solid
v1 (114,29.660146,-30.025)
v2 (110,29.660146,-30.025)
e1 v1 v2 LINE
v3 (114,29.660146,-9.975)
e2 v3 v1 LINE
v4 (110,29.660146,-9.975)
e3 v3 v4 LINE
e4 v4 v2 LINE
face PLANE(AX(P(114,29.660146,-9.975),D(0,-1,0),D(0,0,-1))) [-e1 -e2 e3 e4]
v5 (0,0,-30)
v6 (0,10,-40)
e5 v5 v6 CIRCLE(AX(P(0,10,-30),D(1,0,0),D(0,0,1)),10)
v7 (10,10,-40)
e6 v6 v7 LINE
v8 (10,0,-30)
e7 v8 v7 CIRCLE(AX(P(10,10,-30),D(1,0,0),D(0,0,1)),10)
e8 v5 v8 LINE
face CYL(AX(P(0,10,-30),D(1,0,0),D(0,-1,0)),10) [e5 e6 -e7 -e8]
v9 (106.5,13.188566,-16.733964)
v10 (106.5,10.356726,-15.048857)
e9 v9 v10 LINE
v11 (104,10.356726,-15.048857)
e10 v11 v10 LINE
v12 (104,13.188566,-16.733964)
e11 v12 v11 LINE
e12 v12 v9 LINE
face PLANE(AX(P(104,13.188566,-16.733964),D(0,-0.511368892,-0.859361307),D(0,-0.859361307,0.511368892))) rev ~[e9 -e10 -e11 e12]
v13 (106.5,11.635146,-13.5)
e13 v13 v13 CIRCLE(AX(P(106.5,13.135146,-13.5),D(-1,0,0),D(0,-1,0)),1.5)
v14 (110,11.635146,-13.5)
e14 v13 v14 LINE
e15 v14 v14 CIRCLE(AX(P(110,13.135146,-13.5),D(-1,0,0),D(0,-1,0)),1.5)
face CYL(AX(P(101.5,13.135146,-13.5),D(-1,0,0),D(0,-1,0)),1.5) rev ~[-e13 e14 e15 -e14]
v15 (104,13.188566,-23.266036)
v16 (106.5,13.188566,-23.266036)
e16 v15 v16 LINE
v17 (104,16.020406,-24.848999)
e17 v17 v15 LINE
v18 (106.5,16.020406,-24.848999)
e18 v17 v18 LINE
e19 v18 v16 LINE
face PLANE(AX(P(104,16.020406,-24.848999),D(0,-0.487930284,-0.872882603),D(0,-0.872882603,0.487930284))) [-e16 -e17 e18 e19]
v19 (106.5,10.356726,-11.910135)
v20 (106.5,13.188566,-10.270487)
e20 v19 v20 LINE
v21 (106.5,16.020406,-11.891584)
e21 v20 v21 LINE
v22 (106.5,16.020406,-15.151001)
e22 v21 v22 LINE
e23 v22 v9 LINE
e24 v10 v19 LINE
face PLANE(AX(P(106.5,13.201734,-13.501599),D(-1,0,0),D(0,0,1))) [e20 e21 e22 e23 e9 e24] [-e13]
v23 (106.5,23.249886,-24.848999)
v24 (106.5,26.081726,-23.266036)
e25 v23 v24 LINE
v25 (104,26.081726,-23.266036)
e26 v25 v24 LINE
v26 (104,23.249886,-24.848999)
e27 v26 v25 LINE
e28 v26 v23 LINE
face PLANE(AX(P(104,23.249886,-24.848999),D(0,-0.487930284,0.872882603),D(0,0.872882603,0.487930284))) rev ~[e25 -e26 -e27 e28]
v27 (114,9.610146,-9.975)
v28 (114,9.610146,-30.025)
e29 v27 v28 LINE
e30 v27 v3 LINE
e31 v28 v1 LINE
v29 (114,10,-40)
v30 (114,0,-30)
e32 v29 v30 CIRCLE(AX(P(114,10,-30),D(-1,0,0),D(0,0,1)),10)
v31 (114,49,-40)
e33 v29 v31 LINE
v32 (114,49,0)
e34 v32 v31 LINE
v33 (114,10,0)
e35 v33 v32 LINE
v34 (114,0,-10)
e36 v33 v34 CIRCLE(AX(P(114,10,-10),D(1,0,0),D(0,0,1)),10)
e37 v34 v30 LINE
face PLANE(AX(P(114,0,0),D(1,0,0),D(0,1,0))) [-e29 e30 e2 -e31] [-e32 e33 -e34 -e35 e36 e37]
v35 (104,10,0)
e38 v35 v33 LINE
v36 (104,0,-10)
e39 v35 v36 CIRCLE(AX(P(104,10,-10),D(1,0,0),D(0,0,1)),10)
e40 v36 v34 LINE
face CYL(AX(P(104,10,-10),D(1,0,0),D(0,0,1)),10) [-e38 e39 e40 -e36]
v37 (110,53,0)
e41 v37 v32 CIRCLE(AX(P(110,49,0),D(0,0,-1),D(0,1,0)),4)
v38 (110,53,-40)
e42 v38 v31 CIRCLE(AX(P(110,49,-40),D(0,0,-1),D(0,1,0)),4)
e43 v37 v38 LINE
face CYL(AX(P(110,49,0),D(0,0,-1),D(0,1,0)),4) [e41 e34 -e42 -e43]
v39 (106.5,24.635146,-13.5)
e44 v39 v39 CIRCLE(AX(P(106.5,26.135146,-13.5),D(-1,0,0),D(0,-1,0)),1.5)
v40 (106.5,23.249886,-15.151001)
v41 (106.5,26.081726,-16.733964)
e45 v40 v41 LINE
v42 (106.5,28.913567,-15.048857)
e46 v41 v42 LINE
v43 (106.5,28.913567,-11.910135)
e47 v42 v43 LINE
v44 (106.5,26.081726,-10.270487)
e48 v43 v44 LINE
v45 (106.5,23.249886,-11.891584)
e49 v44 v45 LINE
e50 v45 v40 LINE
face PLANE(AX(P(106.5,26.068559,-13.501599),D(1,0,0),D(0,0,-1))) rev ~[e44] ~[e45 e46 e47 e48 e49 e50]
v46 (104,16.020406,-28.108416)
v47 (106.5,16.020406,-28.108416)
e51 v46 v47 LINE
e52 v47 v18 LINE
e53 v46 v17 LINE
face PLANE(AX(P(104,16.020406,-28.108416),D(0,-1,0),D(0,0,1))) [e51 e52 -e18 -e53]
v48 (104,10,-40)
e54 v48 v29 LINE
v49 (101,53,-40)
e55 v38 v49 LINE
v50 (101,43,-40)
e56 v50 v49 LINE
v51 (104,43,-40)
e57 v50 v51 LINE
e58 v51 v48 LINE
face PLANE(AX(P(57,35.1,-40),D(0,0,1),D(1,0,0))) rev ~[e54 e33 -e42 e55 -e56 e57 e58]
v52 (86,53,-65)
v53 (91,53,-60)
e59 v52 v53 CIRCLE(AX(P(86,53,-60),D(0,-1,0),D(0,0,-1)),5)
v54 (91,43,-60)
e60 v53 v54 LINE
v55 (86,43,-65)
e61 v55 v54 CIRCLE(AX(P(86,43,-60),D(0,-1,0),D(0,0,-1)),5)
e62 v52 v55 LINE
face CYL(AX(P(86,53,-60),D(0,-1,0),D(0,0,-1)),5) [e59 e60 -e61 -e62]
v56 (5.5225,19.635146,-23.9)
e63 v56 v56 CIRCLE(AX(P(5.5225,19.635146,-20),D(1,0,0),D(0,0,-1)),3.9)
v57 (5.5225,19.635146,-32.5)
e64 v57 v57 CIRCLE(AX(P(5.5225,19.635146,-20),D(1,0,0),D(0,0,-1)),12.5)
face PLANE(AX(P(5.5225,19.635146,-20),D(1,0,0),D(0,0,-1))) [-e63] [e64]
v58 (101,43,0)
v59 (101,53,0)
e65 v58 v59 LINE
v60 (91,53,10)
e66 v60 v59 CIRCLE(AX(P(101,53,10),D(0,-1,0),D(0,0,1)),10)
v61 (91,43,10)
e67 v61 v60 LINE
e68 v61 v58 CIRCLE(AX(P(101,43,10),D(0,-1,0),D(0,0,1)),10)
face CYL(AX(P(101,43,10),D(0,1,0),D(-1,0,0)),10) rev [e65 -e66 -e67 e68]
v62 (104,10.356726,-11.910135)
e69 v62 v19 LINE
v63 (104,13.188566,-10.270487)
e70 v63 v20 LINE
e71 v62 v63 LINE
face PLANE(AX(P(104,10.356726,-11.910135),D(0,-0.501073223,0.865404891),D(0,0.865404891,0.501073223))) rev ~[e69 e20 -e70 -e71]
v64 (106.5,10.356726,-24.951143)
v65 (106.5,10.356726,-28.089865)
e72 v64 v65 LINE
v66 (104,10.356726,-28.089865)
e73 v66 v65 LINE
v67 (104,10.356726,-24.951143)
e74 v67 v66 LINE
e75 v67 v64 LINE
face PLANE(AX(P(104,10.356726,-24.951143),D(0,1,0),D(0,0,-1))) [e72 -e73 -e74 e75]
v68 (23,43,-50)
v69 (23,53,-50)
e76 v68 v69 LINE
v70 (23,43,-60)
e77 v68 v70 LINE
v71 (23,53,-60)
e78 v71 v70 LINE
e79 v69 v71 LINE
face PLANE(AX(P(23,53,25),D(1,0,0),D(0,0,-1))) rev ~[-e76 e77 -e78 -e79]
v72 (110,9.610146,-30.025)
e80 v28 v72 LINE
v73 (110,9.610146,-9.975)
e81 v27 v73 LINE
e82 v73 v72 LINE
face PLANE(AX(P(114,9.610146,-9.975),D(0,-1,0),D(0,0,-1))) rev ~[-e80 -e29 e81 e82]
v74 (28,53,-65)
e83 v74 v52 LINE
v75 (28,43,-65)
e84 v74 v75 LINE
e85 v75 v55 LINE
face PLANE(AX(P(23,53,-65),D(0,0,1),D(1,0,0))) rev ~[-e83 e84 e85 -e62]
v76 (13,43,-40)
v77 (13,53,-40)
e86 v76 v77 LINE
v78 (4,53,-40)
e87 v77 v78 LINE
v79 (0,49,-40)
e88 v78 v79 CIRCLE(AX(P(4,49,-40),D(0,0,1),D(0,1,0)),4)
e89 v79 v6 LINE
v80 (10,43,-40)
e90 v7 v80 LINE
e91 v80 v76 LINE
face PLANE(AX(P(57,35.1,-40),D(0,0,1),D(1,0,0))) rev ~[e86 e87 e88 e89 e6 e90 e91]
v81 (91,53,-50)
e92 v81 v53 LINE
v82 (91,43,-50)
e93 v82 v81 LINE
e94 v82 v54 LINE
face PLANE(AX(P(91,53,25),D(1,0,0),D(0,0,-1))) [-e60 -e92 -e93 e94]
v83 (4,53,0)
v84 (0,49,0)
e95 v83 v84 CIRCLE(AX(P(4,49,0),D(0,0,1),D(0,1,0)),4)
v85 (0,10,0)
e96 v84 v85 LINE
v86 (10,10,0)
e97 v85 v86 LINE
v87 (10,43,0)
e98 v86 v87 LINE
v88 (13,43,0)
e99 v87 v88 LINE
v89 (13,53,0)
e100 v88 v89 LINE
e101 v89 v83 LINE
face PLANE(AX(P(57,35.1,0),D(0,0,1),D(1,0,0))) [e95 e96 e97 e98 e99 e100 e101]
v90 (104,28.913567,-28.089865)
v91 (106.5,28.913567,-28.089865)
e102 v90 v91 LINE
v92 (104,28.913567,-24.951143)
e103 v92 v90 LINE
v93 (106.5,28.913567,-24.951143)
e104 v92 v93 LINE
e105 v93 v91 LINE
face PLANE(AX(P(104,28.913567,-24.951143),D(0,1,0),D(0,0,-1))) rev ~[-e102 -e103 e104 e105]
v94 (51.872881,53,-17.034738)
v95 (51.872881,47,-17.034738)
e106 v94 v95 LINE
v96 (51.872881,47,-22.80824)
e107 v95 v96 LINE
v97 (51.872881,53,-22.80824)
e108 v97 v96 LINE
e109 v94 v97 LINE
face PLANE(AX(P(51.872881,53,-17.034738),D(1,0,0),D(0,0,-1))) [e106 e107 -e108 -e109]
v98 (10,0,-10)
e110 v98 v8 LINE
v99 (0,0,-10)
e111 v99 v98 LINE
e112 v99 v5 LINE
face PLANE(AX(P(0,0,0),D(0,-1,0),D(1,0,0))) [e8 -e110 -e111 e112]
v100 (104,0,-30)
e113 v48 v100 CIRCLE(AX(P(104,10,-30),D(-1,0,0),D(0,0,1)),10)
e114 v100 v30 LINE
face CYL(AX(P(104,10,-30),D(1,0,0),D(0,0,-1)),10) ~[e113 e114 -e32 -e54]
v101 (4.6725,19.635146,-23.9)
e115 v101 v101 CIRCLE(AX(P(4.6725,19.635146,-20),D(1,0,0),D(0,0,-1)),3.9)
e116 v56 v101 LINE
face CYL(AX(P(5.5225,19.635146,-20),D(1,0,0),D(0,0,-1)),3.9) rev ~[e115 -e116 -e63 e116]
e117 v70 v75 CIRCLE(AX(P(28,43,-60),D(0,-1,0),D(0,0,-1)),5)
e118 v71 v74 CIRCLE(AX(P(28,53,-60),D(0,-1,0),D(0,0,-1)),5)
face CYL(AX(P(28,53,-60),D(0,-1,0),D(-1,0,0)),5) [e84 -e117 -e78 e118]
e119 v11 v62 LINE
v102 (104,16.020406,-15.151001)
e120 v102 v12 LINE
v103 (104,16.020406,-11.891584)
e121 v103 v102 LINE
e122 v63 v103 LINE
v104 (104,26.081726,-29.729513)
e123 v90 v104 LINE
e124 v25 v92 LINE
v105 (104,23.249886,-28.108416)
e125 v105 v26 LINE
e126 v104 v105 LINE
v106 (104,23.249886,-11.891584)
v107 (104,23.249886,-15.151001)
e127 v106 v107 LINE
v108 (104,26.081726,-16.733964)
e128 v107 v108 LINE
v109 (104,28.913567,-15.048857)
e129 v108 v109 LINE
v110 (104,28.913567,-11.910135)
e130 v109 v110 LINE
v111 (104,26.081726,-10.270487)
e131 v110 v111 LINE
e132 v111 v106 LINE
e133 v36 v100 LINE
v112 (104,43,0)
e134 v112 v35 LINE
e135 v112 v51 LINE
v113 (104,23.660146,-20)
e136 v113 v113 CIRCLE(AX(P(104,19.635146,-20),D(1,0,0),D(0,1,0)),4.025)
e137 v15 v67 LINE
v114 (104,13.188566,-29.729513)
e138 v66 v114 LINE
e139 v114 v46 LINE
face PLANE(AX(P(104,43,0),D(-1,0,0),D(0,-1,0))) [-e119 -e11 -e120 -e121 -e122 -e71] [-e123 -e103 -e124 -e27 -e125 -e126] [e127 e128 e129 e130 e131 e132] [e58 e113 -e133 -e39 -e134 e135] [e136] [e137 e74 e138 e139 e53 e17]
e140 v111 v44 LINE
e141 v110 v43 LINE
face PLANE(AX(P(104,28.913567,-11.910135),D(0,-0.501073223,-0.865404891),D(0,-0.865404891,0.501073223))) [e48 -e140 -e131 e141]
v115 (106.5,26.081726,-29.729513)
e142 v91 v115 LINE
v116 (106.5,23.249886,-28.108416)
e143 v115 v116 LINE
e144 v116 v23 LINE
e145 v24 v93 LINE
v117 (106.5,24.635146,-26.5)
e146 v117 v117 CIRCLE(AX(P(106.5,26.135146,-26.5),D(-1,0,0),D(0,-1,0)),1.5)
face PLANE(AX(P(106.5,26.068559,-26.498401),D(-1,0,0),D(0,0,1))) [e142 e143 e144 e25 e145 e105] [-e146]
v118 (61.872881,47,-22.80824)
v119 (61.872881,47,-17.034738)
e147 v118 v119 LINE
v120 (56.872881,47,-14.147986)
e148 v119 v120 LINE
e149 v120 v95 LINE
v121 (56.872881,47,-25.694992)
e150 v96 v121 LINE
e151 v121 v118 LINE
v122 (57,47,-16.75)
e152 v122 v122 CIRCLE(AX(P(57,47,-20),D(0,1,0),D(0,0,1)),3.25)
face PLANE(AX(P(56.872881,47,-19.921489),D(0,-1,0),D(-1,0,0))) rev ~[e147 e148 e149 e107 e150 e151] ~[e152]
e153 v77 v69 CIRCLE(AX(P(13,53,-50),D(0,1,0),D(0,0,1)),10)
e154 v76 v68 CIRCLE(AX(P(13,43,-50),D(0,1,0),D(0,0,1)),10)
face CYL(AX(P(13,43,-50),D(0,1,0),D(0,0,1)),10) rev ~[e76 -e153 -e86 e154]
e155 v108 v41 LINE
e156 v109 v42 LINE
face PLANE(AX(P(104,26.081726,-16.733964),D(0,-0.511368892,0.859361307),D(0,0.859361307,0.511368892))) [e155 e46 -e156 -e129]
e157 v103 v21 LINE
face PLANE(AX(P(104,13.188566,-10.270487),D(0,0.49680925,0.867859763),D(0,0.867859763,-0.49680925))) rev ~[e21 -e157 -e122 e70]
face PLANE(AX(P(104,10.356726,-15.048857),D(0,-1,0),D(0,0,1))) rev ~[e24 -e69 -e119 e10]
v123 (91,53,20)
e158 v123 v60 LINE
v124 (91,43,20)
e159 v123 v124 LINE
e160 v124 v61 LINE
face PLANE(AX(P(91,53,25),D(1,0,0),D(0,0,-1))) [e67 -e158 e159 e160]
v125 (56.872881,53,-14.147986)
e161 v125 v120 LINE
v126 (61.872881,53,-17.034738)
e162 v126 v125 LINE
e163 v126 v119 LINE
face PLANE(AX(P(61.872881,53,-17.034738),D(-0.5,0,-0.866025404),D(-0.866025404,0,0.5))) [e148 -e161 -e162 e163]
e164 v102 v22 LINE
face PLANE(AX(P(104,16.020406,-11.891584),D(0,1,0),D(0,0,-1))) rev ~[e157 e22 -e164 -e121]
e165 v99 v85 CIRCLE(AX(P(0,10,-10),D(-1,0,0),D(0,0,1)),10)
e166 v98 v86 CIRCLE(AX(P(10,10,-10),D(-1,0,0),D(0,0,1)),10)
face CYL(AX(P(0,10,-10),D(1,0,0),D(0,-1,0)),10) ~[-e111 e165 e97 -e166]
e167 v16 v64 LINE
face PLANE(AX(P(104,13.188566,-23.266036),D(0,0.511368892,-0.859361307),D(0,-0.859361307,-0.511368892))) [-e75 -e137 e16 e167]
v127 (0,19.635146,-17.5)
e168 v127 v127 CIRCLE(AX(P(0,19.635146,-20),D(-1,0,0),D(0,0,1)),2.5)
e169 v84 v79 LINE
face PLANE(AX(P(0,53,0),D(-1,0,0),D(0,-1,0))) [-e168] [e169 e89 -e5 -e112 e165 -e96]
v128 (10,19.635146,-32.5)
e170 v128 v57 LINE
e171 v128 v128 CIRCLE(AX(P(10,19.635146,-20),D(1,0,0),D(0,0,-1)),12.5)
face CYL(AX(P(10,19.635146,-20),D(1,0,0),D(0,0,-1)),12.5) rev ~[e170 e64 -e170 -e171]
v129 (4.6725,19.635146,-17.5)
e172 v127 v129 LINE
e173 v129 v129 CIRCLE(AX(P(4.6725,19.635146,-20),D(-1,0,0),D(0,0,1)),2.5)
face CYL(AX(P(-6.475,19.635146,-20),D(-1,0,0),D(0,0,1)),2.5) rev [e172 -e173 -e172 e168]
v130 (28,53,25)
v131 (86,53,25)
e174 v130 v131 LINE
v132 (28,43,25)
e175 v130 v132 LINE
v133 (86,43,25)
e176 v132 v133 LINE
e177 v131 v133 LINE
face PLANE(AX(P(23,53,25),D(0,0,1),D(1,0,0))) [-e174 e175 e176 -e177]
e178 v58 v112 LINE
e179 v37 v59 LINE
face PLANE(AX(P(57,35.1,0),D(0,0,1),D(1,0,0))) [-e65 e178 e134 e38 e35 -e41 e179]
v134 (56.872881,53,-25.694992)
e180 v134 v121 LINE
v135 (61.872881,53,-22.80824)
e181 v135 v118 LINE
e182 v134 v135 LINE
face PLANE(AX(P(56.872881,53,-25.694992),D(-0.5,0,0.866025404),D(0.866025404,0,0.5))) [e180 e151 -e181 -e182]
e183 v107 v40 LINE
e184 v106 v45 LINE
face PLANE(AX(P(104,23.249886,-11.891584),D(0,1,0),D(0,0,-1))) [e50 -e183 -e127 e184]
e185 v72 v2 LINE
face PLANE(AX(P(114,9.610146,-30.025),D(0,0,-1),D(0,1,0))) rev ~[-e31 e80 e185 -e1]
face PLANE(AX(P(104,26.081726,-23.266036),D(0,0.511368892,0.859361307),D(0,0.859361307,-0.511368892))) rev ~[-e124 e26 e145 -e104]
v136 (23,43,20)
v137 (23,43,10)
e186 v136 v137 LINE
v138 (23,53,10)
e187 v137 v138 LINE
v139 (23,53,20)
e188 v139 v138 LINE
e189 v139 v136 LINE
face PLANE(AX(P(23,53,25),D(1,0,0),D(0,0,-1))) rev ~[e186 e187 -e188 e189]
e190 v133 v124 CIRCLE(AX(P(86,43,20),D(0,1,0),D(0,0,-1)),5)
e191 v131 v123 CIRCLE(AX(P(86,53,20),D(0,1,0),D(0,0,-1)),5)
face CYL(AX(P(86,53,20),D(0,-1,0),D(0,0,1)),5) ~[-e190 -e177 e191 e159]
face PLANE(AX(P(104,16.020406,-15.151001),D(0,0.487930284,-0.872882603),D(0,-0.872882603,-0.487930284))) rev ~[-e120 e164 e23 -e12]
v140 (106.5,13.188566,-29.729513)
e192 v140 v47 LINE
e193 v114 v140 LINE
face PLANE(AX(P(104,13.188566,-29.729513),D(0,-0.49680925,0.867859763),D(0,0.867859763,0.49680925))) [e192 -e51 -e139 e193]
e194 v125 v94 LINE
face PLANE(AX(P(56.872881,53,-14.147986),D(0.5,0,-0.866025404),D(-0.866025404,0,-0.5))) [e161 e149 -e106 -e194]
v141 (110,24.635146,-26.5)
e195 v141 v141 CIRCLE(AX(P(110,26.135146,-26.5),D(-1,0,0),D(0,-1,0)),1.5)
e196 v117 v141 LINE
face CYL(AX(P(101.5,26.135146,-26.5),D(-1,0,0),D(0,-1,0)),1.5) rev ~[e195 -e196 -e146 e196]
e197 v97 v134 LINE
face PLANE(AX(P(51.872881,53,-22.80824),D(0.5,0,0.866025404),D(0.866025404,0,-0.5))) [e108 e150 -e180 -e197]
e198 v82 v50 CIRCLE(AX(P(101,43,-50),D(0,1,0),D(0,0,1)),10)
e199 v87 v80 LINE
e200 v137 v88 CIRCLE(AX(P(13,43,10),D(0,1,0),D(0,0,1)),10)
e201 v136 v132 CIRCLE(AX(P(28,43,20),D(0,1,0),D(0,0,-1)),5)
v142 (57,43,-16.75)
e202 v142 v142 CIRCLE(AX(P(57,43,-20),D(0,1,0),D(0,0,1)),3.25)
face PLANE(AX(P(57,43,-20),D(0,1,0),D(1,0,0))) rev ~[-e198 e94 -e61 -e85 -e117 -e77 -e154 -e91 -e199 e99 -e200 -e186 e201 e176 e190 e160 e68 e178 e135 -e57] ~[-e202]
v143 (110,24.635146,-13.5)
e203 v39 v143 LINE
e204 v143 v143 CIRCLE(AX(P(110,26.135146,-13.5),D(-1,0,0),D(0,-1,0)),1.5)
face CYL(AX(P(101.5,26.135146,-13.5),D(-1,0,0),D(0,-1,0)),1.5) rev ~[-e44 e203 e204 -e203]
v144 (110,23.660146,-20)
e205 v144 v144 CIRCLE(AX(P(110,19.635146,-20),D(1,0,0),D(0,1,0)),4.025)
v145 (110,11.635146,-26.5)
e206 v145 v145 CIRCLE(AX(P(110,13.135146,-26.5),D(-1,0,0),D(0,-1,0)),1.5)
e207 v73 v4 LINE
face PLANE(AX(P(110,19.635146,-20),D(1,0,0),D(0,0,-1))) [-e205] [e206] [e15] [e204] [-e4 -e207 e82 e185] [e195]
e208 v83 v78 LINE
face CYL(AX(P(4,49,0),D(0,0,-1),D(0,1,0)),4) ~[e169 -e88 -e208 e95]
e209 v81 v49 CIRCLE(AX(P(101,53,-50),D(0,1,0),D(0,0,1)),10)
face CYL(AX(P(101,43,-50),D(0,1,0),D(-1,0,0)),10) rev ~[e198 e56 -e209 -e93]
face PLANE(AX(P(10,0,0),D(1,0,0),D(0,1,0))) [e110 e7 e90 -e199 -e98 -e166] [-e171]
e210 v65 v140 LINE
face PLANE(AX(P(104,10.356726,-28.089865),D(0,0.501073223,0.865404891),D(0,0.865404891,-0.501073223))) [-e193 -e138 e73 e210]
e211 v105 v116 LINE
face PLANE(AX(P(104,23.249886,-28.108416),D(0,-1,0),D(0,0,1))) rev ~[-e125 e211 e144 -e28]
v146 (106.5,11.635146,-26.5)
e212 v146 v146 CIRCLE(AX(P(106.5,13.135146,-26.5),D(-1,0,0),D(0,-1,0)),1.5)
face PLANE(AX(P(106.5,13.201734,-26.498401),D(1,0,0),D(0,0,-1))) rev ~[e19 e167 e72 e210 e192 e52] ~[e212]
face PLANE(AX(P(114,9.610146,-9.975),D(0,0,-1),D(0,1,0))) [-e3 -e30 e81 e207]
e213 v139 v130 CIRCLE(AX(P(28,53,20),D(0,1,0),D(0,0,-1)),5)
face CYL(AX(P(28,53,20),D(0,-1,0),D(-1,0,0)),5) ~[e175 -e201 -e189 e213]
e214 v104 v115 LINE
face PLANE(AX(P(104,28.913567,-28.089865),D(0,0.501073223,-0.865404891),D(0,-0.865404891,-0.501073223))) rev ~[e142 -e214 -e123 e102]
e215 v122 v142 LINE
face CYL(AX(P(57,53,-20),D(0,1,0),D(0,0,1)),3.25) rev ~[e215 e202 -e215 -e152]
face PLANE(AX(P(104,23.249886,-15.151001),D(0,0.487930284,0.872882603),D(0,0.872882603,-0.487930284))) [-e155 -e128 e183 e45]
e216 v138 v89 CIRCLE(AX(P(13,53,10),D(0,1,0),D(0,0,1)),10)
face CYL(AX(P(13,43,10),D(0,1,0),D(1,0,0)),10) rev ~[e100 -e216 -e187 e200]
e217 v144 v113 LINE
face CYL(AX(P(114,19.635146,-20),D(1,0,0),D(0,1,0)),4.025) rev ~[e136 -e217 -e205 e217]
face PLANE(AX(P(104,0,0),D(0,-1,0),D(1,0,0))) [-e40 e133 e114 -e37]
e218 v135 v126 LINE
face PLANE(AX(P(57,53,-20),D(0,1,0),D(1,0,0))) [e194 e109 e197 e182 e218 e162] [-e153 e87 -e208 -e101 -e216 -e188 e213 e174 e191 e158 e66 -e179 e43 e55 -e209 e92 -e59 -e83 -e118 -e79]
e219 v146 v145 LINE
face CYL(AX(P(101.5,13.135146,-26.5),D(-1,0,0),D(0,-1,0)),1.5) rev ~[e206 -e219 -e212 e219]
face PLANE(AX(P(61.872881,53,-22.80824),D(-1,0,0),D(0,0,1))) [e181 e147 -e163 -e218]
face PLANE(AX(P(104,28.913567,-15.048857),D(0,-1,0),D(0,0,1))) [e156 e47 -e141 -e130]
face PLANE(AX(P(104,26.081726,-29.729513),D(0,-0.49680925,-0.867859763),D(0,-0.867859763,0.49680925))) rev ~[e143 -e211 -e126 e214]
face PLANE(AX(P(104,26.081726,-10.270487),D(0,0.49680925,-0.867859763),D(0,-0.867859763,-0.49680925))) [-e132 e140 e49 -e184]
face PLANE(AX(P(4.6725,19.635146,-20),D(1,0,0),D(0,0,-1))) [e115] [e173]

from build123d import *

# Parameters (mm, degrees)
BOSS_EXTRUDE1_DEPTH     = 40
SKETCH2_R               = 12.5
CUT_EXTRUDE1_DEPTH      = 4.4775
FILLET1_R               = 10
CUT_EXTRUDE2_DEPTH      = 131.2
CUT_EXTRUDE2_DEPTH_BACK = 14.2
SKETCH4_R               = 2.5
SKETCH6_W               = 68
SKETCH6_H               = 90
BOSS_EXTRUDE4_DEPTH     = 10
FILLET2_R               = 10
FILLET3_R               = 5
FILLET4_R               = 4
CUT_EXTRUDE3_START      = -2.2025
SKETCH7_R               = 3.9
CUT_EXTRUDE3_DEPTH      = 0.85
SKETCH8_R               = 3.25
CUT_EXTRUDE4_DEPTH      = 10
SKETCH9_R               = 4.025
CUT_EXTRUDE5_DEPTH      = 12
SKETCH10_W              = 20.05
SKETCH10_H              = 20.05
CUT_EXTRUDE6_DEPTH      = 4
CUT_EXTRUDE7_DEPTH      = 6
CUT_EXTRUDE9_DEPTH      = 2.5
CUT_EXTRUDE10_REACH     = 138.104
CUT_EXTRUDE10_START     = 2.5
SKETCH15_R              = 1.5


with BuildPart() as part:
    # Sketch1 → Boss-Extrude1 (new body)
    with BuildSketch(Plane.XY):
        Polygon((10, 0), (10, 43), (104, 43), (104, 0), (114, 0), (114, 53), (0, 53), (0, 0), align=None)
    extrude(amount=-BOSS_EXTRUDE1_DEPTH)

    # Sketch2 → Cut-Extrude1 (cut)
    with BuildSketch(Plane(origin=(10, 0, 0), x_dir=(0, 0, -1), z_dir=(1, 0, 0))):
        with Locations((20, 19.635146369)):
            Circle(SKETCH2_R)
    extrude(amount=-CUT_EXTRUDE1_DEPTH, mode=Mode.SUBTRACT)

    # Fillet1
    fillet1_edges = [part.edges().sort_by_distance(p)[0] for p in [
        (5, 0, 0),
        (109, 0, -40),
        (5, 0, -40),
        (109, 0, 0),
    ]]
    fillet(fillet1_edges, radius=FILLET1_R)

    # Sketch4 → Cut-Extrude2 (cut, two sides: drawn at the far end of the back side and taken through both)
    with BuildSketch(Plane(origin=(7.725, 0, 0), x_dir=(0, 0, -1), z_dir=(1, 0, 0)).offset(-CUT_EXTRUDE2_DEPTH_BACK)):
        with Locations(Location((20, 19.635146369, 0), (0, 0, 180))):
            Circle(SKETCH4_R)
    extrude(amount=CUT_EXTRUDE2_DEPTH + CUT_EXTRUDE2_DEPTH_BACK, mode=Mode.SUBTRACT)

    # Sketch6 → Boss-Extrude4 (add)
    with BuildSketch(Plane(origin=(0, 53, 0), x_dir=(1, 0, 0), z_dir=(0, 1, 0))):
        with Locations((57, 20)):
            Rectangle(SKETCH6_W, SKETCH6_H)
    extrude(amount=-BOSS_EXTRUDE4_DEPTH)

    # Fillet2
    fillet2_edges = [part.edges().sort_by_distance(p)[0] for p in [
        (23, 48, 0),
        (91, 48, 0),
        (91, 48, -40),
        (23, 48, -40),
    ]]
    fillet(fillet2_edges, radius=FILLET2_R)

    # Fillet3
    fillet3_edges = [part.edges().sort_by_distance(p)[0] for p in [
        (23, 48, 25),
        (91, 48, -65),
        (91, 48, 25),
        (23, 48, -65),
    ]]
    fillet(fillet3_edges, radius=FILLET3_R)

    # Fillet4
    fillet4_edges = [part.edges().sort_by_distance(p)[0] for p in [
        (0, 53, -20),
        (114, 53, -20),
    ]]
    fillet(fillet4_edges, radius=FILLET4_R)

    # Sketch7 → Cut-Extrude3 (cut)
    with BuildSketch(Plane(origin=(7.725, 0, 0), x_dir=(0, 0, -1), z_dir=(1, 0, 0)).offset(CUT_EXTRUDE3_START)):
        with Locations((20, 19.635146369)):
            Circle(SKETCH7_R)
    extrude(amount=-CUT_EXTRUDE3_DEPTH, mode=Mode.SUBTRACT)

    # Sketch8 → Cut-Extrude4 (cut)
    with BuildSketch(Plane(origin=(0, 53, 0), x_dir=(1, 0, 0), z_dir=(0, 1, 0))):
        with Locations(Location((57, 20, 0), (0, 0, 270))):
            Circle(SKETCH8_R)
    extrude(amount=-CUT_EXTRUDE4_DEPTH, mode=Mode.SUBTRACT)

    # Sketch9 → Cut-Extrude5 (cut)
    with BuildSketch(Plane(origin=(114, 0, 0), x_dir=(0, 0, -1), z_dir=(1, 0, 0))):
        with Locations(Location((20, 19.635146369, 0), (0, 0, 90))):
            Circle(SKETCH9_R)
    extrude(amount=-CUT_EXTRUDE5_DEPTH, mode=Mode.SUBTRACT)

    # Sketch10 → Cut-Extrude6 (cut)
    with BuildSketch(Plane(origin=(114, 0, 0), x_dir=(0, 0, -1), z_dir=(1, 0, 0))):
        with Locations((20, 19.635146369)):
            Rectangle(SKETCH10_W, SKETCH10_H)
    extrude(amount=-CUT_EXTRUDE6_DEPTH, mode=Mode.SUBTRACT)

    # Sketch14 → Cut-Extrude7 (cut)
    with BuildSketch(Plane(origin=(0, 53, 0), x_dir=(1, 0, 0), z_dir=(0, 1, 0))):
        Polygon((56.872881106, 25.694991584), (61.872881106, 22.808240238), (61.872881106, 17.034737546), (56.872881106, 14.1479862), (51.872881106, 17.034737546), (51.872881106, 22.808240238), align=None)
    extrude(amount=-CUT_EXTRUDE7_DEPTH, mode=Mode.SUBTRACT)

    # Sketch18 → Cut-Extrude9 (cut)
    with BuildSketch(Plane.ZY.offset(-104)):
        Polygon((-15.048857438, 28.91356654), (-11.910134999, 28.91356654), (-10.270487153, 26.081726401), (-11.891583597, 23.249886262), (-15.151000849, 23.249886262), (-16.733963505, 26.081726401), align=None)
        Polygon((-23.266036495, 26.081726401), (-24.951142562, 28.91356654), (-28.089865001, 28.91356654), (-29.729512847, 26.081726401), (-28.108416403, 23.249886262), (-24.848999151, 23.249886262), align=None)
        Polygon((-16.733963505, 13.188566337), (-15.048857438, 10.356726198), (-11.910134999, 10.356726198), (-10.270487153, 13.188566337), (-11.891583597, 16.020406476), (-15.151000849, 16.020406476), align=None)
        Polygon((-24.848999151, 16.020406476), (-23.266036495, 13.188566337), (-24.951142562, 10.356726198), (-28.089865001, 10.356726198), (-29.729512847, 13.188566337), (-28.108416403, 16.020406476), align=None)
    extrude(amount=-CUT_EXTRUDE9_DEPTH, mode=Mode.SUBTRACT)

    # Sketch15 → Cut-Extrude10 (cut, up to next)
    with BuildSketch(Plane.ZY.offset(-104).offset(CUT_EXTRUDE10_START), mode=Mode.PRIVATE) as cut_extrude10_sk1:
        with Locations(Location((-26.5, 26.135146369, 0), (0, 0, 270))):
            Circle(SKETCH15_R)
    cut_extrude10_tool1 = extrude(cut_extrude10_sk1.sketch, amount=-CUT_EXTRUDE10_REACH, mode=Mode.PRIVATE) & part.part
    # Sketch15 → Cut-Extrude10 (cut, up to next)
    with BuildSketch(Plane.ZY.offset(-104).offset(CUT_EXTRUDE10_START), mode=Mode.PRIVATE) as cut_extrude10_sk2:
        with Locations(Location((-13.5, 26.135146369, 0), (0, 0, 270))):
            Circle(SKETCH15_R)
    cut_extrude10_tool2 = extrude(cut_extrude10_sk2.sketch, amount=-CUT_EXTRUDE10_REACH, mode=Mode.PRIVATE) & part.part
    # Sketch15 → Cut-Extrude10 (cut, up to next)
    with BuildSketch(Plane.ZY.offset(-104).offset(CUT_EXTRUDE10_START), mode=Mode.PRIVATE) as cut_extrude10_sk3:
        with Locations(Location((-13.5, 13.135146369, 0), (0, 0, 270))):
            Circle(SKETCH15_R)
    cut_extrude10_tool3 = extrude(cut_extrude10_sk3.sketch, amount=-CUT_EXTRUDE10_REACH, mode=Mode.PRIVATE) & part.part
    # Sketch15 → Cut-Extrude10 (cut, up to next)
    with BuildSketch(Plane.ZY.offset(-104).offset(CUT_EXTRUDE10_START), mode=Mode.PRIVATE) as cut_extrude10_sk4:
        with Locations(Location((-26.5, 13.135146369, 0), (0, 0, 270))):
            Circle(SKETCH15_R)
    cut_extrude10_tool4 = extrude(cut_extrude10_sk4.sketch, amount=-CUT_EXTRUDE10_REACH, mode=Mode.PRIVATE) & part.part
    add(cut_extrude10_tool1.solids().sort_by_distance((101.5, 26.135146, -26.5))[0], mode=Mode.SUBTRACT)
    add(cut_extrude10_tool2.solids().sort_by_distance((101.5, 26.135146, -13.5))[0], mode=Mode.SUBTRACT)
    add(cut_extrude10_tool3.solids().sort_by_distance((101.5, 13.135146, -13.5))[0], mode=Mode.SUBTRACT)
    add(cut_extrude10_tool4.solids().sort_by_distance((101.5, 13.135146, -26.5))[0], mode=Mode.SUBTRACT)


solid = part.part
